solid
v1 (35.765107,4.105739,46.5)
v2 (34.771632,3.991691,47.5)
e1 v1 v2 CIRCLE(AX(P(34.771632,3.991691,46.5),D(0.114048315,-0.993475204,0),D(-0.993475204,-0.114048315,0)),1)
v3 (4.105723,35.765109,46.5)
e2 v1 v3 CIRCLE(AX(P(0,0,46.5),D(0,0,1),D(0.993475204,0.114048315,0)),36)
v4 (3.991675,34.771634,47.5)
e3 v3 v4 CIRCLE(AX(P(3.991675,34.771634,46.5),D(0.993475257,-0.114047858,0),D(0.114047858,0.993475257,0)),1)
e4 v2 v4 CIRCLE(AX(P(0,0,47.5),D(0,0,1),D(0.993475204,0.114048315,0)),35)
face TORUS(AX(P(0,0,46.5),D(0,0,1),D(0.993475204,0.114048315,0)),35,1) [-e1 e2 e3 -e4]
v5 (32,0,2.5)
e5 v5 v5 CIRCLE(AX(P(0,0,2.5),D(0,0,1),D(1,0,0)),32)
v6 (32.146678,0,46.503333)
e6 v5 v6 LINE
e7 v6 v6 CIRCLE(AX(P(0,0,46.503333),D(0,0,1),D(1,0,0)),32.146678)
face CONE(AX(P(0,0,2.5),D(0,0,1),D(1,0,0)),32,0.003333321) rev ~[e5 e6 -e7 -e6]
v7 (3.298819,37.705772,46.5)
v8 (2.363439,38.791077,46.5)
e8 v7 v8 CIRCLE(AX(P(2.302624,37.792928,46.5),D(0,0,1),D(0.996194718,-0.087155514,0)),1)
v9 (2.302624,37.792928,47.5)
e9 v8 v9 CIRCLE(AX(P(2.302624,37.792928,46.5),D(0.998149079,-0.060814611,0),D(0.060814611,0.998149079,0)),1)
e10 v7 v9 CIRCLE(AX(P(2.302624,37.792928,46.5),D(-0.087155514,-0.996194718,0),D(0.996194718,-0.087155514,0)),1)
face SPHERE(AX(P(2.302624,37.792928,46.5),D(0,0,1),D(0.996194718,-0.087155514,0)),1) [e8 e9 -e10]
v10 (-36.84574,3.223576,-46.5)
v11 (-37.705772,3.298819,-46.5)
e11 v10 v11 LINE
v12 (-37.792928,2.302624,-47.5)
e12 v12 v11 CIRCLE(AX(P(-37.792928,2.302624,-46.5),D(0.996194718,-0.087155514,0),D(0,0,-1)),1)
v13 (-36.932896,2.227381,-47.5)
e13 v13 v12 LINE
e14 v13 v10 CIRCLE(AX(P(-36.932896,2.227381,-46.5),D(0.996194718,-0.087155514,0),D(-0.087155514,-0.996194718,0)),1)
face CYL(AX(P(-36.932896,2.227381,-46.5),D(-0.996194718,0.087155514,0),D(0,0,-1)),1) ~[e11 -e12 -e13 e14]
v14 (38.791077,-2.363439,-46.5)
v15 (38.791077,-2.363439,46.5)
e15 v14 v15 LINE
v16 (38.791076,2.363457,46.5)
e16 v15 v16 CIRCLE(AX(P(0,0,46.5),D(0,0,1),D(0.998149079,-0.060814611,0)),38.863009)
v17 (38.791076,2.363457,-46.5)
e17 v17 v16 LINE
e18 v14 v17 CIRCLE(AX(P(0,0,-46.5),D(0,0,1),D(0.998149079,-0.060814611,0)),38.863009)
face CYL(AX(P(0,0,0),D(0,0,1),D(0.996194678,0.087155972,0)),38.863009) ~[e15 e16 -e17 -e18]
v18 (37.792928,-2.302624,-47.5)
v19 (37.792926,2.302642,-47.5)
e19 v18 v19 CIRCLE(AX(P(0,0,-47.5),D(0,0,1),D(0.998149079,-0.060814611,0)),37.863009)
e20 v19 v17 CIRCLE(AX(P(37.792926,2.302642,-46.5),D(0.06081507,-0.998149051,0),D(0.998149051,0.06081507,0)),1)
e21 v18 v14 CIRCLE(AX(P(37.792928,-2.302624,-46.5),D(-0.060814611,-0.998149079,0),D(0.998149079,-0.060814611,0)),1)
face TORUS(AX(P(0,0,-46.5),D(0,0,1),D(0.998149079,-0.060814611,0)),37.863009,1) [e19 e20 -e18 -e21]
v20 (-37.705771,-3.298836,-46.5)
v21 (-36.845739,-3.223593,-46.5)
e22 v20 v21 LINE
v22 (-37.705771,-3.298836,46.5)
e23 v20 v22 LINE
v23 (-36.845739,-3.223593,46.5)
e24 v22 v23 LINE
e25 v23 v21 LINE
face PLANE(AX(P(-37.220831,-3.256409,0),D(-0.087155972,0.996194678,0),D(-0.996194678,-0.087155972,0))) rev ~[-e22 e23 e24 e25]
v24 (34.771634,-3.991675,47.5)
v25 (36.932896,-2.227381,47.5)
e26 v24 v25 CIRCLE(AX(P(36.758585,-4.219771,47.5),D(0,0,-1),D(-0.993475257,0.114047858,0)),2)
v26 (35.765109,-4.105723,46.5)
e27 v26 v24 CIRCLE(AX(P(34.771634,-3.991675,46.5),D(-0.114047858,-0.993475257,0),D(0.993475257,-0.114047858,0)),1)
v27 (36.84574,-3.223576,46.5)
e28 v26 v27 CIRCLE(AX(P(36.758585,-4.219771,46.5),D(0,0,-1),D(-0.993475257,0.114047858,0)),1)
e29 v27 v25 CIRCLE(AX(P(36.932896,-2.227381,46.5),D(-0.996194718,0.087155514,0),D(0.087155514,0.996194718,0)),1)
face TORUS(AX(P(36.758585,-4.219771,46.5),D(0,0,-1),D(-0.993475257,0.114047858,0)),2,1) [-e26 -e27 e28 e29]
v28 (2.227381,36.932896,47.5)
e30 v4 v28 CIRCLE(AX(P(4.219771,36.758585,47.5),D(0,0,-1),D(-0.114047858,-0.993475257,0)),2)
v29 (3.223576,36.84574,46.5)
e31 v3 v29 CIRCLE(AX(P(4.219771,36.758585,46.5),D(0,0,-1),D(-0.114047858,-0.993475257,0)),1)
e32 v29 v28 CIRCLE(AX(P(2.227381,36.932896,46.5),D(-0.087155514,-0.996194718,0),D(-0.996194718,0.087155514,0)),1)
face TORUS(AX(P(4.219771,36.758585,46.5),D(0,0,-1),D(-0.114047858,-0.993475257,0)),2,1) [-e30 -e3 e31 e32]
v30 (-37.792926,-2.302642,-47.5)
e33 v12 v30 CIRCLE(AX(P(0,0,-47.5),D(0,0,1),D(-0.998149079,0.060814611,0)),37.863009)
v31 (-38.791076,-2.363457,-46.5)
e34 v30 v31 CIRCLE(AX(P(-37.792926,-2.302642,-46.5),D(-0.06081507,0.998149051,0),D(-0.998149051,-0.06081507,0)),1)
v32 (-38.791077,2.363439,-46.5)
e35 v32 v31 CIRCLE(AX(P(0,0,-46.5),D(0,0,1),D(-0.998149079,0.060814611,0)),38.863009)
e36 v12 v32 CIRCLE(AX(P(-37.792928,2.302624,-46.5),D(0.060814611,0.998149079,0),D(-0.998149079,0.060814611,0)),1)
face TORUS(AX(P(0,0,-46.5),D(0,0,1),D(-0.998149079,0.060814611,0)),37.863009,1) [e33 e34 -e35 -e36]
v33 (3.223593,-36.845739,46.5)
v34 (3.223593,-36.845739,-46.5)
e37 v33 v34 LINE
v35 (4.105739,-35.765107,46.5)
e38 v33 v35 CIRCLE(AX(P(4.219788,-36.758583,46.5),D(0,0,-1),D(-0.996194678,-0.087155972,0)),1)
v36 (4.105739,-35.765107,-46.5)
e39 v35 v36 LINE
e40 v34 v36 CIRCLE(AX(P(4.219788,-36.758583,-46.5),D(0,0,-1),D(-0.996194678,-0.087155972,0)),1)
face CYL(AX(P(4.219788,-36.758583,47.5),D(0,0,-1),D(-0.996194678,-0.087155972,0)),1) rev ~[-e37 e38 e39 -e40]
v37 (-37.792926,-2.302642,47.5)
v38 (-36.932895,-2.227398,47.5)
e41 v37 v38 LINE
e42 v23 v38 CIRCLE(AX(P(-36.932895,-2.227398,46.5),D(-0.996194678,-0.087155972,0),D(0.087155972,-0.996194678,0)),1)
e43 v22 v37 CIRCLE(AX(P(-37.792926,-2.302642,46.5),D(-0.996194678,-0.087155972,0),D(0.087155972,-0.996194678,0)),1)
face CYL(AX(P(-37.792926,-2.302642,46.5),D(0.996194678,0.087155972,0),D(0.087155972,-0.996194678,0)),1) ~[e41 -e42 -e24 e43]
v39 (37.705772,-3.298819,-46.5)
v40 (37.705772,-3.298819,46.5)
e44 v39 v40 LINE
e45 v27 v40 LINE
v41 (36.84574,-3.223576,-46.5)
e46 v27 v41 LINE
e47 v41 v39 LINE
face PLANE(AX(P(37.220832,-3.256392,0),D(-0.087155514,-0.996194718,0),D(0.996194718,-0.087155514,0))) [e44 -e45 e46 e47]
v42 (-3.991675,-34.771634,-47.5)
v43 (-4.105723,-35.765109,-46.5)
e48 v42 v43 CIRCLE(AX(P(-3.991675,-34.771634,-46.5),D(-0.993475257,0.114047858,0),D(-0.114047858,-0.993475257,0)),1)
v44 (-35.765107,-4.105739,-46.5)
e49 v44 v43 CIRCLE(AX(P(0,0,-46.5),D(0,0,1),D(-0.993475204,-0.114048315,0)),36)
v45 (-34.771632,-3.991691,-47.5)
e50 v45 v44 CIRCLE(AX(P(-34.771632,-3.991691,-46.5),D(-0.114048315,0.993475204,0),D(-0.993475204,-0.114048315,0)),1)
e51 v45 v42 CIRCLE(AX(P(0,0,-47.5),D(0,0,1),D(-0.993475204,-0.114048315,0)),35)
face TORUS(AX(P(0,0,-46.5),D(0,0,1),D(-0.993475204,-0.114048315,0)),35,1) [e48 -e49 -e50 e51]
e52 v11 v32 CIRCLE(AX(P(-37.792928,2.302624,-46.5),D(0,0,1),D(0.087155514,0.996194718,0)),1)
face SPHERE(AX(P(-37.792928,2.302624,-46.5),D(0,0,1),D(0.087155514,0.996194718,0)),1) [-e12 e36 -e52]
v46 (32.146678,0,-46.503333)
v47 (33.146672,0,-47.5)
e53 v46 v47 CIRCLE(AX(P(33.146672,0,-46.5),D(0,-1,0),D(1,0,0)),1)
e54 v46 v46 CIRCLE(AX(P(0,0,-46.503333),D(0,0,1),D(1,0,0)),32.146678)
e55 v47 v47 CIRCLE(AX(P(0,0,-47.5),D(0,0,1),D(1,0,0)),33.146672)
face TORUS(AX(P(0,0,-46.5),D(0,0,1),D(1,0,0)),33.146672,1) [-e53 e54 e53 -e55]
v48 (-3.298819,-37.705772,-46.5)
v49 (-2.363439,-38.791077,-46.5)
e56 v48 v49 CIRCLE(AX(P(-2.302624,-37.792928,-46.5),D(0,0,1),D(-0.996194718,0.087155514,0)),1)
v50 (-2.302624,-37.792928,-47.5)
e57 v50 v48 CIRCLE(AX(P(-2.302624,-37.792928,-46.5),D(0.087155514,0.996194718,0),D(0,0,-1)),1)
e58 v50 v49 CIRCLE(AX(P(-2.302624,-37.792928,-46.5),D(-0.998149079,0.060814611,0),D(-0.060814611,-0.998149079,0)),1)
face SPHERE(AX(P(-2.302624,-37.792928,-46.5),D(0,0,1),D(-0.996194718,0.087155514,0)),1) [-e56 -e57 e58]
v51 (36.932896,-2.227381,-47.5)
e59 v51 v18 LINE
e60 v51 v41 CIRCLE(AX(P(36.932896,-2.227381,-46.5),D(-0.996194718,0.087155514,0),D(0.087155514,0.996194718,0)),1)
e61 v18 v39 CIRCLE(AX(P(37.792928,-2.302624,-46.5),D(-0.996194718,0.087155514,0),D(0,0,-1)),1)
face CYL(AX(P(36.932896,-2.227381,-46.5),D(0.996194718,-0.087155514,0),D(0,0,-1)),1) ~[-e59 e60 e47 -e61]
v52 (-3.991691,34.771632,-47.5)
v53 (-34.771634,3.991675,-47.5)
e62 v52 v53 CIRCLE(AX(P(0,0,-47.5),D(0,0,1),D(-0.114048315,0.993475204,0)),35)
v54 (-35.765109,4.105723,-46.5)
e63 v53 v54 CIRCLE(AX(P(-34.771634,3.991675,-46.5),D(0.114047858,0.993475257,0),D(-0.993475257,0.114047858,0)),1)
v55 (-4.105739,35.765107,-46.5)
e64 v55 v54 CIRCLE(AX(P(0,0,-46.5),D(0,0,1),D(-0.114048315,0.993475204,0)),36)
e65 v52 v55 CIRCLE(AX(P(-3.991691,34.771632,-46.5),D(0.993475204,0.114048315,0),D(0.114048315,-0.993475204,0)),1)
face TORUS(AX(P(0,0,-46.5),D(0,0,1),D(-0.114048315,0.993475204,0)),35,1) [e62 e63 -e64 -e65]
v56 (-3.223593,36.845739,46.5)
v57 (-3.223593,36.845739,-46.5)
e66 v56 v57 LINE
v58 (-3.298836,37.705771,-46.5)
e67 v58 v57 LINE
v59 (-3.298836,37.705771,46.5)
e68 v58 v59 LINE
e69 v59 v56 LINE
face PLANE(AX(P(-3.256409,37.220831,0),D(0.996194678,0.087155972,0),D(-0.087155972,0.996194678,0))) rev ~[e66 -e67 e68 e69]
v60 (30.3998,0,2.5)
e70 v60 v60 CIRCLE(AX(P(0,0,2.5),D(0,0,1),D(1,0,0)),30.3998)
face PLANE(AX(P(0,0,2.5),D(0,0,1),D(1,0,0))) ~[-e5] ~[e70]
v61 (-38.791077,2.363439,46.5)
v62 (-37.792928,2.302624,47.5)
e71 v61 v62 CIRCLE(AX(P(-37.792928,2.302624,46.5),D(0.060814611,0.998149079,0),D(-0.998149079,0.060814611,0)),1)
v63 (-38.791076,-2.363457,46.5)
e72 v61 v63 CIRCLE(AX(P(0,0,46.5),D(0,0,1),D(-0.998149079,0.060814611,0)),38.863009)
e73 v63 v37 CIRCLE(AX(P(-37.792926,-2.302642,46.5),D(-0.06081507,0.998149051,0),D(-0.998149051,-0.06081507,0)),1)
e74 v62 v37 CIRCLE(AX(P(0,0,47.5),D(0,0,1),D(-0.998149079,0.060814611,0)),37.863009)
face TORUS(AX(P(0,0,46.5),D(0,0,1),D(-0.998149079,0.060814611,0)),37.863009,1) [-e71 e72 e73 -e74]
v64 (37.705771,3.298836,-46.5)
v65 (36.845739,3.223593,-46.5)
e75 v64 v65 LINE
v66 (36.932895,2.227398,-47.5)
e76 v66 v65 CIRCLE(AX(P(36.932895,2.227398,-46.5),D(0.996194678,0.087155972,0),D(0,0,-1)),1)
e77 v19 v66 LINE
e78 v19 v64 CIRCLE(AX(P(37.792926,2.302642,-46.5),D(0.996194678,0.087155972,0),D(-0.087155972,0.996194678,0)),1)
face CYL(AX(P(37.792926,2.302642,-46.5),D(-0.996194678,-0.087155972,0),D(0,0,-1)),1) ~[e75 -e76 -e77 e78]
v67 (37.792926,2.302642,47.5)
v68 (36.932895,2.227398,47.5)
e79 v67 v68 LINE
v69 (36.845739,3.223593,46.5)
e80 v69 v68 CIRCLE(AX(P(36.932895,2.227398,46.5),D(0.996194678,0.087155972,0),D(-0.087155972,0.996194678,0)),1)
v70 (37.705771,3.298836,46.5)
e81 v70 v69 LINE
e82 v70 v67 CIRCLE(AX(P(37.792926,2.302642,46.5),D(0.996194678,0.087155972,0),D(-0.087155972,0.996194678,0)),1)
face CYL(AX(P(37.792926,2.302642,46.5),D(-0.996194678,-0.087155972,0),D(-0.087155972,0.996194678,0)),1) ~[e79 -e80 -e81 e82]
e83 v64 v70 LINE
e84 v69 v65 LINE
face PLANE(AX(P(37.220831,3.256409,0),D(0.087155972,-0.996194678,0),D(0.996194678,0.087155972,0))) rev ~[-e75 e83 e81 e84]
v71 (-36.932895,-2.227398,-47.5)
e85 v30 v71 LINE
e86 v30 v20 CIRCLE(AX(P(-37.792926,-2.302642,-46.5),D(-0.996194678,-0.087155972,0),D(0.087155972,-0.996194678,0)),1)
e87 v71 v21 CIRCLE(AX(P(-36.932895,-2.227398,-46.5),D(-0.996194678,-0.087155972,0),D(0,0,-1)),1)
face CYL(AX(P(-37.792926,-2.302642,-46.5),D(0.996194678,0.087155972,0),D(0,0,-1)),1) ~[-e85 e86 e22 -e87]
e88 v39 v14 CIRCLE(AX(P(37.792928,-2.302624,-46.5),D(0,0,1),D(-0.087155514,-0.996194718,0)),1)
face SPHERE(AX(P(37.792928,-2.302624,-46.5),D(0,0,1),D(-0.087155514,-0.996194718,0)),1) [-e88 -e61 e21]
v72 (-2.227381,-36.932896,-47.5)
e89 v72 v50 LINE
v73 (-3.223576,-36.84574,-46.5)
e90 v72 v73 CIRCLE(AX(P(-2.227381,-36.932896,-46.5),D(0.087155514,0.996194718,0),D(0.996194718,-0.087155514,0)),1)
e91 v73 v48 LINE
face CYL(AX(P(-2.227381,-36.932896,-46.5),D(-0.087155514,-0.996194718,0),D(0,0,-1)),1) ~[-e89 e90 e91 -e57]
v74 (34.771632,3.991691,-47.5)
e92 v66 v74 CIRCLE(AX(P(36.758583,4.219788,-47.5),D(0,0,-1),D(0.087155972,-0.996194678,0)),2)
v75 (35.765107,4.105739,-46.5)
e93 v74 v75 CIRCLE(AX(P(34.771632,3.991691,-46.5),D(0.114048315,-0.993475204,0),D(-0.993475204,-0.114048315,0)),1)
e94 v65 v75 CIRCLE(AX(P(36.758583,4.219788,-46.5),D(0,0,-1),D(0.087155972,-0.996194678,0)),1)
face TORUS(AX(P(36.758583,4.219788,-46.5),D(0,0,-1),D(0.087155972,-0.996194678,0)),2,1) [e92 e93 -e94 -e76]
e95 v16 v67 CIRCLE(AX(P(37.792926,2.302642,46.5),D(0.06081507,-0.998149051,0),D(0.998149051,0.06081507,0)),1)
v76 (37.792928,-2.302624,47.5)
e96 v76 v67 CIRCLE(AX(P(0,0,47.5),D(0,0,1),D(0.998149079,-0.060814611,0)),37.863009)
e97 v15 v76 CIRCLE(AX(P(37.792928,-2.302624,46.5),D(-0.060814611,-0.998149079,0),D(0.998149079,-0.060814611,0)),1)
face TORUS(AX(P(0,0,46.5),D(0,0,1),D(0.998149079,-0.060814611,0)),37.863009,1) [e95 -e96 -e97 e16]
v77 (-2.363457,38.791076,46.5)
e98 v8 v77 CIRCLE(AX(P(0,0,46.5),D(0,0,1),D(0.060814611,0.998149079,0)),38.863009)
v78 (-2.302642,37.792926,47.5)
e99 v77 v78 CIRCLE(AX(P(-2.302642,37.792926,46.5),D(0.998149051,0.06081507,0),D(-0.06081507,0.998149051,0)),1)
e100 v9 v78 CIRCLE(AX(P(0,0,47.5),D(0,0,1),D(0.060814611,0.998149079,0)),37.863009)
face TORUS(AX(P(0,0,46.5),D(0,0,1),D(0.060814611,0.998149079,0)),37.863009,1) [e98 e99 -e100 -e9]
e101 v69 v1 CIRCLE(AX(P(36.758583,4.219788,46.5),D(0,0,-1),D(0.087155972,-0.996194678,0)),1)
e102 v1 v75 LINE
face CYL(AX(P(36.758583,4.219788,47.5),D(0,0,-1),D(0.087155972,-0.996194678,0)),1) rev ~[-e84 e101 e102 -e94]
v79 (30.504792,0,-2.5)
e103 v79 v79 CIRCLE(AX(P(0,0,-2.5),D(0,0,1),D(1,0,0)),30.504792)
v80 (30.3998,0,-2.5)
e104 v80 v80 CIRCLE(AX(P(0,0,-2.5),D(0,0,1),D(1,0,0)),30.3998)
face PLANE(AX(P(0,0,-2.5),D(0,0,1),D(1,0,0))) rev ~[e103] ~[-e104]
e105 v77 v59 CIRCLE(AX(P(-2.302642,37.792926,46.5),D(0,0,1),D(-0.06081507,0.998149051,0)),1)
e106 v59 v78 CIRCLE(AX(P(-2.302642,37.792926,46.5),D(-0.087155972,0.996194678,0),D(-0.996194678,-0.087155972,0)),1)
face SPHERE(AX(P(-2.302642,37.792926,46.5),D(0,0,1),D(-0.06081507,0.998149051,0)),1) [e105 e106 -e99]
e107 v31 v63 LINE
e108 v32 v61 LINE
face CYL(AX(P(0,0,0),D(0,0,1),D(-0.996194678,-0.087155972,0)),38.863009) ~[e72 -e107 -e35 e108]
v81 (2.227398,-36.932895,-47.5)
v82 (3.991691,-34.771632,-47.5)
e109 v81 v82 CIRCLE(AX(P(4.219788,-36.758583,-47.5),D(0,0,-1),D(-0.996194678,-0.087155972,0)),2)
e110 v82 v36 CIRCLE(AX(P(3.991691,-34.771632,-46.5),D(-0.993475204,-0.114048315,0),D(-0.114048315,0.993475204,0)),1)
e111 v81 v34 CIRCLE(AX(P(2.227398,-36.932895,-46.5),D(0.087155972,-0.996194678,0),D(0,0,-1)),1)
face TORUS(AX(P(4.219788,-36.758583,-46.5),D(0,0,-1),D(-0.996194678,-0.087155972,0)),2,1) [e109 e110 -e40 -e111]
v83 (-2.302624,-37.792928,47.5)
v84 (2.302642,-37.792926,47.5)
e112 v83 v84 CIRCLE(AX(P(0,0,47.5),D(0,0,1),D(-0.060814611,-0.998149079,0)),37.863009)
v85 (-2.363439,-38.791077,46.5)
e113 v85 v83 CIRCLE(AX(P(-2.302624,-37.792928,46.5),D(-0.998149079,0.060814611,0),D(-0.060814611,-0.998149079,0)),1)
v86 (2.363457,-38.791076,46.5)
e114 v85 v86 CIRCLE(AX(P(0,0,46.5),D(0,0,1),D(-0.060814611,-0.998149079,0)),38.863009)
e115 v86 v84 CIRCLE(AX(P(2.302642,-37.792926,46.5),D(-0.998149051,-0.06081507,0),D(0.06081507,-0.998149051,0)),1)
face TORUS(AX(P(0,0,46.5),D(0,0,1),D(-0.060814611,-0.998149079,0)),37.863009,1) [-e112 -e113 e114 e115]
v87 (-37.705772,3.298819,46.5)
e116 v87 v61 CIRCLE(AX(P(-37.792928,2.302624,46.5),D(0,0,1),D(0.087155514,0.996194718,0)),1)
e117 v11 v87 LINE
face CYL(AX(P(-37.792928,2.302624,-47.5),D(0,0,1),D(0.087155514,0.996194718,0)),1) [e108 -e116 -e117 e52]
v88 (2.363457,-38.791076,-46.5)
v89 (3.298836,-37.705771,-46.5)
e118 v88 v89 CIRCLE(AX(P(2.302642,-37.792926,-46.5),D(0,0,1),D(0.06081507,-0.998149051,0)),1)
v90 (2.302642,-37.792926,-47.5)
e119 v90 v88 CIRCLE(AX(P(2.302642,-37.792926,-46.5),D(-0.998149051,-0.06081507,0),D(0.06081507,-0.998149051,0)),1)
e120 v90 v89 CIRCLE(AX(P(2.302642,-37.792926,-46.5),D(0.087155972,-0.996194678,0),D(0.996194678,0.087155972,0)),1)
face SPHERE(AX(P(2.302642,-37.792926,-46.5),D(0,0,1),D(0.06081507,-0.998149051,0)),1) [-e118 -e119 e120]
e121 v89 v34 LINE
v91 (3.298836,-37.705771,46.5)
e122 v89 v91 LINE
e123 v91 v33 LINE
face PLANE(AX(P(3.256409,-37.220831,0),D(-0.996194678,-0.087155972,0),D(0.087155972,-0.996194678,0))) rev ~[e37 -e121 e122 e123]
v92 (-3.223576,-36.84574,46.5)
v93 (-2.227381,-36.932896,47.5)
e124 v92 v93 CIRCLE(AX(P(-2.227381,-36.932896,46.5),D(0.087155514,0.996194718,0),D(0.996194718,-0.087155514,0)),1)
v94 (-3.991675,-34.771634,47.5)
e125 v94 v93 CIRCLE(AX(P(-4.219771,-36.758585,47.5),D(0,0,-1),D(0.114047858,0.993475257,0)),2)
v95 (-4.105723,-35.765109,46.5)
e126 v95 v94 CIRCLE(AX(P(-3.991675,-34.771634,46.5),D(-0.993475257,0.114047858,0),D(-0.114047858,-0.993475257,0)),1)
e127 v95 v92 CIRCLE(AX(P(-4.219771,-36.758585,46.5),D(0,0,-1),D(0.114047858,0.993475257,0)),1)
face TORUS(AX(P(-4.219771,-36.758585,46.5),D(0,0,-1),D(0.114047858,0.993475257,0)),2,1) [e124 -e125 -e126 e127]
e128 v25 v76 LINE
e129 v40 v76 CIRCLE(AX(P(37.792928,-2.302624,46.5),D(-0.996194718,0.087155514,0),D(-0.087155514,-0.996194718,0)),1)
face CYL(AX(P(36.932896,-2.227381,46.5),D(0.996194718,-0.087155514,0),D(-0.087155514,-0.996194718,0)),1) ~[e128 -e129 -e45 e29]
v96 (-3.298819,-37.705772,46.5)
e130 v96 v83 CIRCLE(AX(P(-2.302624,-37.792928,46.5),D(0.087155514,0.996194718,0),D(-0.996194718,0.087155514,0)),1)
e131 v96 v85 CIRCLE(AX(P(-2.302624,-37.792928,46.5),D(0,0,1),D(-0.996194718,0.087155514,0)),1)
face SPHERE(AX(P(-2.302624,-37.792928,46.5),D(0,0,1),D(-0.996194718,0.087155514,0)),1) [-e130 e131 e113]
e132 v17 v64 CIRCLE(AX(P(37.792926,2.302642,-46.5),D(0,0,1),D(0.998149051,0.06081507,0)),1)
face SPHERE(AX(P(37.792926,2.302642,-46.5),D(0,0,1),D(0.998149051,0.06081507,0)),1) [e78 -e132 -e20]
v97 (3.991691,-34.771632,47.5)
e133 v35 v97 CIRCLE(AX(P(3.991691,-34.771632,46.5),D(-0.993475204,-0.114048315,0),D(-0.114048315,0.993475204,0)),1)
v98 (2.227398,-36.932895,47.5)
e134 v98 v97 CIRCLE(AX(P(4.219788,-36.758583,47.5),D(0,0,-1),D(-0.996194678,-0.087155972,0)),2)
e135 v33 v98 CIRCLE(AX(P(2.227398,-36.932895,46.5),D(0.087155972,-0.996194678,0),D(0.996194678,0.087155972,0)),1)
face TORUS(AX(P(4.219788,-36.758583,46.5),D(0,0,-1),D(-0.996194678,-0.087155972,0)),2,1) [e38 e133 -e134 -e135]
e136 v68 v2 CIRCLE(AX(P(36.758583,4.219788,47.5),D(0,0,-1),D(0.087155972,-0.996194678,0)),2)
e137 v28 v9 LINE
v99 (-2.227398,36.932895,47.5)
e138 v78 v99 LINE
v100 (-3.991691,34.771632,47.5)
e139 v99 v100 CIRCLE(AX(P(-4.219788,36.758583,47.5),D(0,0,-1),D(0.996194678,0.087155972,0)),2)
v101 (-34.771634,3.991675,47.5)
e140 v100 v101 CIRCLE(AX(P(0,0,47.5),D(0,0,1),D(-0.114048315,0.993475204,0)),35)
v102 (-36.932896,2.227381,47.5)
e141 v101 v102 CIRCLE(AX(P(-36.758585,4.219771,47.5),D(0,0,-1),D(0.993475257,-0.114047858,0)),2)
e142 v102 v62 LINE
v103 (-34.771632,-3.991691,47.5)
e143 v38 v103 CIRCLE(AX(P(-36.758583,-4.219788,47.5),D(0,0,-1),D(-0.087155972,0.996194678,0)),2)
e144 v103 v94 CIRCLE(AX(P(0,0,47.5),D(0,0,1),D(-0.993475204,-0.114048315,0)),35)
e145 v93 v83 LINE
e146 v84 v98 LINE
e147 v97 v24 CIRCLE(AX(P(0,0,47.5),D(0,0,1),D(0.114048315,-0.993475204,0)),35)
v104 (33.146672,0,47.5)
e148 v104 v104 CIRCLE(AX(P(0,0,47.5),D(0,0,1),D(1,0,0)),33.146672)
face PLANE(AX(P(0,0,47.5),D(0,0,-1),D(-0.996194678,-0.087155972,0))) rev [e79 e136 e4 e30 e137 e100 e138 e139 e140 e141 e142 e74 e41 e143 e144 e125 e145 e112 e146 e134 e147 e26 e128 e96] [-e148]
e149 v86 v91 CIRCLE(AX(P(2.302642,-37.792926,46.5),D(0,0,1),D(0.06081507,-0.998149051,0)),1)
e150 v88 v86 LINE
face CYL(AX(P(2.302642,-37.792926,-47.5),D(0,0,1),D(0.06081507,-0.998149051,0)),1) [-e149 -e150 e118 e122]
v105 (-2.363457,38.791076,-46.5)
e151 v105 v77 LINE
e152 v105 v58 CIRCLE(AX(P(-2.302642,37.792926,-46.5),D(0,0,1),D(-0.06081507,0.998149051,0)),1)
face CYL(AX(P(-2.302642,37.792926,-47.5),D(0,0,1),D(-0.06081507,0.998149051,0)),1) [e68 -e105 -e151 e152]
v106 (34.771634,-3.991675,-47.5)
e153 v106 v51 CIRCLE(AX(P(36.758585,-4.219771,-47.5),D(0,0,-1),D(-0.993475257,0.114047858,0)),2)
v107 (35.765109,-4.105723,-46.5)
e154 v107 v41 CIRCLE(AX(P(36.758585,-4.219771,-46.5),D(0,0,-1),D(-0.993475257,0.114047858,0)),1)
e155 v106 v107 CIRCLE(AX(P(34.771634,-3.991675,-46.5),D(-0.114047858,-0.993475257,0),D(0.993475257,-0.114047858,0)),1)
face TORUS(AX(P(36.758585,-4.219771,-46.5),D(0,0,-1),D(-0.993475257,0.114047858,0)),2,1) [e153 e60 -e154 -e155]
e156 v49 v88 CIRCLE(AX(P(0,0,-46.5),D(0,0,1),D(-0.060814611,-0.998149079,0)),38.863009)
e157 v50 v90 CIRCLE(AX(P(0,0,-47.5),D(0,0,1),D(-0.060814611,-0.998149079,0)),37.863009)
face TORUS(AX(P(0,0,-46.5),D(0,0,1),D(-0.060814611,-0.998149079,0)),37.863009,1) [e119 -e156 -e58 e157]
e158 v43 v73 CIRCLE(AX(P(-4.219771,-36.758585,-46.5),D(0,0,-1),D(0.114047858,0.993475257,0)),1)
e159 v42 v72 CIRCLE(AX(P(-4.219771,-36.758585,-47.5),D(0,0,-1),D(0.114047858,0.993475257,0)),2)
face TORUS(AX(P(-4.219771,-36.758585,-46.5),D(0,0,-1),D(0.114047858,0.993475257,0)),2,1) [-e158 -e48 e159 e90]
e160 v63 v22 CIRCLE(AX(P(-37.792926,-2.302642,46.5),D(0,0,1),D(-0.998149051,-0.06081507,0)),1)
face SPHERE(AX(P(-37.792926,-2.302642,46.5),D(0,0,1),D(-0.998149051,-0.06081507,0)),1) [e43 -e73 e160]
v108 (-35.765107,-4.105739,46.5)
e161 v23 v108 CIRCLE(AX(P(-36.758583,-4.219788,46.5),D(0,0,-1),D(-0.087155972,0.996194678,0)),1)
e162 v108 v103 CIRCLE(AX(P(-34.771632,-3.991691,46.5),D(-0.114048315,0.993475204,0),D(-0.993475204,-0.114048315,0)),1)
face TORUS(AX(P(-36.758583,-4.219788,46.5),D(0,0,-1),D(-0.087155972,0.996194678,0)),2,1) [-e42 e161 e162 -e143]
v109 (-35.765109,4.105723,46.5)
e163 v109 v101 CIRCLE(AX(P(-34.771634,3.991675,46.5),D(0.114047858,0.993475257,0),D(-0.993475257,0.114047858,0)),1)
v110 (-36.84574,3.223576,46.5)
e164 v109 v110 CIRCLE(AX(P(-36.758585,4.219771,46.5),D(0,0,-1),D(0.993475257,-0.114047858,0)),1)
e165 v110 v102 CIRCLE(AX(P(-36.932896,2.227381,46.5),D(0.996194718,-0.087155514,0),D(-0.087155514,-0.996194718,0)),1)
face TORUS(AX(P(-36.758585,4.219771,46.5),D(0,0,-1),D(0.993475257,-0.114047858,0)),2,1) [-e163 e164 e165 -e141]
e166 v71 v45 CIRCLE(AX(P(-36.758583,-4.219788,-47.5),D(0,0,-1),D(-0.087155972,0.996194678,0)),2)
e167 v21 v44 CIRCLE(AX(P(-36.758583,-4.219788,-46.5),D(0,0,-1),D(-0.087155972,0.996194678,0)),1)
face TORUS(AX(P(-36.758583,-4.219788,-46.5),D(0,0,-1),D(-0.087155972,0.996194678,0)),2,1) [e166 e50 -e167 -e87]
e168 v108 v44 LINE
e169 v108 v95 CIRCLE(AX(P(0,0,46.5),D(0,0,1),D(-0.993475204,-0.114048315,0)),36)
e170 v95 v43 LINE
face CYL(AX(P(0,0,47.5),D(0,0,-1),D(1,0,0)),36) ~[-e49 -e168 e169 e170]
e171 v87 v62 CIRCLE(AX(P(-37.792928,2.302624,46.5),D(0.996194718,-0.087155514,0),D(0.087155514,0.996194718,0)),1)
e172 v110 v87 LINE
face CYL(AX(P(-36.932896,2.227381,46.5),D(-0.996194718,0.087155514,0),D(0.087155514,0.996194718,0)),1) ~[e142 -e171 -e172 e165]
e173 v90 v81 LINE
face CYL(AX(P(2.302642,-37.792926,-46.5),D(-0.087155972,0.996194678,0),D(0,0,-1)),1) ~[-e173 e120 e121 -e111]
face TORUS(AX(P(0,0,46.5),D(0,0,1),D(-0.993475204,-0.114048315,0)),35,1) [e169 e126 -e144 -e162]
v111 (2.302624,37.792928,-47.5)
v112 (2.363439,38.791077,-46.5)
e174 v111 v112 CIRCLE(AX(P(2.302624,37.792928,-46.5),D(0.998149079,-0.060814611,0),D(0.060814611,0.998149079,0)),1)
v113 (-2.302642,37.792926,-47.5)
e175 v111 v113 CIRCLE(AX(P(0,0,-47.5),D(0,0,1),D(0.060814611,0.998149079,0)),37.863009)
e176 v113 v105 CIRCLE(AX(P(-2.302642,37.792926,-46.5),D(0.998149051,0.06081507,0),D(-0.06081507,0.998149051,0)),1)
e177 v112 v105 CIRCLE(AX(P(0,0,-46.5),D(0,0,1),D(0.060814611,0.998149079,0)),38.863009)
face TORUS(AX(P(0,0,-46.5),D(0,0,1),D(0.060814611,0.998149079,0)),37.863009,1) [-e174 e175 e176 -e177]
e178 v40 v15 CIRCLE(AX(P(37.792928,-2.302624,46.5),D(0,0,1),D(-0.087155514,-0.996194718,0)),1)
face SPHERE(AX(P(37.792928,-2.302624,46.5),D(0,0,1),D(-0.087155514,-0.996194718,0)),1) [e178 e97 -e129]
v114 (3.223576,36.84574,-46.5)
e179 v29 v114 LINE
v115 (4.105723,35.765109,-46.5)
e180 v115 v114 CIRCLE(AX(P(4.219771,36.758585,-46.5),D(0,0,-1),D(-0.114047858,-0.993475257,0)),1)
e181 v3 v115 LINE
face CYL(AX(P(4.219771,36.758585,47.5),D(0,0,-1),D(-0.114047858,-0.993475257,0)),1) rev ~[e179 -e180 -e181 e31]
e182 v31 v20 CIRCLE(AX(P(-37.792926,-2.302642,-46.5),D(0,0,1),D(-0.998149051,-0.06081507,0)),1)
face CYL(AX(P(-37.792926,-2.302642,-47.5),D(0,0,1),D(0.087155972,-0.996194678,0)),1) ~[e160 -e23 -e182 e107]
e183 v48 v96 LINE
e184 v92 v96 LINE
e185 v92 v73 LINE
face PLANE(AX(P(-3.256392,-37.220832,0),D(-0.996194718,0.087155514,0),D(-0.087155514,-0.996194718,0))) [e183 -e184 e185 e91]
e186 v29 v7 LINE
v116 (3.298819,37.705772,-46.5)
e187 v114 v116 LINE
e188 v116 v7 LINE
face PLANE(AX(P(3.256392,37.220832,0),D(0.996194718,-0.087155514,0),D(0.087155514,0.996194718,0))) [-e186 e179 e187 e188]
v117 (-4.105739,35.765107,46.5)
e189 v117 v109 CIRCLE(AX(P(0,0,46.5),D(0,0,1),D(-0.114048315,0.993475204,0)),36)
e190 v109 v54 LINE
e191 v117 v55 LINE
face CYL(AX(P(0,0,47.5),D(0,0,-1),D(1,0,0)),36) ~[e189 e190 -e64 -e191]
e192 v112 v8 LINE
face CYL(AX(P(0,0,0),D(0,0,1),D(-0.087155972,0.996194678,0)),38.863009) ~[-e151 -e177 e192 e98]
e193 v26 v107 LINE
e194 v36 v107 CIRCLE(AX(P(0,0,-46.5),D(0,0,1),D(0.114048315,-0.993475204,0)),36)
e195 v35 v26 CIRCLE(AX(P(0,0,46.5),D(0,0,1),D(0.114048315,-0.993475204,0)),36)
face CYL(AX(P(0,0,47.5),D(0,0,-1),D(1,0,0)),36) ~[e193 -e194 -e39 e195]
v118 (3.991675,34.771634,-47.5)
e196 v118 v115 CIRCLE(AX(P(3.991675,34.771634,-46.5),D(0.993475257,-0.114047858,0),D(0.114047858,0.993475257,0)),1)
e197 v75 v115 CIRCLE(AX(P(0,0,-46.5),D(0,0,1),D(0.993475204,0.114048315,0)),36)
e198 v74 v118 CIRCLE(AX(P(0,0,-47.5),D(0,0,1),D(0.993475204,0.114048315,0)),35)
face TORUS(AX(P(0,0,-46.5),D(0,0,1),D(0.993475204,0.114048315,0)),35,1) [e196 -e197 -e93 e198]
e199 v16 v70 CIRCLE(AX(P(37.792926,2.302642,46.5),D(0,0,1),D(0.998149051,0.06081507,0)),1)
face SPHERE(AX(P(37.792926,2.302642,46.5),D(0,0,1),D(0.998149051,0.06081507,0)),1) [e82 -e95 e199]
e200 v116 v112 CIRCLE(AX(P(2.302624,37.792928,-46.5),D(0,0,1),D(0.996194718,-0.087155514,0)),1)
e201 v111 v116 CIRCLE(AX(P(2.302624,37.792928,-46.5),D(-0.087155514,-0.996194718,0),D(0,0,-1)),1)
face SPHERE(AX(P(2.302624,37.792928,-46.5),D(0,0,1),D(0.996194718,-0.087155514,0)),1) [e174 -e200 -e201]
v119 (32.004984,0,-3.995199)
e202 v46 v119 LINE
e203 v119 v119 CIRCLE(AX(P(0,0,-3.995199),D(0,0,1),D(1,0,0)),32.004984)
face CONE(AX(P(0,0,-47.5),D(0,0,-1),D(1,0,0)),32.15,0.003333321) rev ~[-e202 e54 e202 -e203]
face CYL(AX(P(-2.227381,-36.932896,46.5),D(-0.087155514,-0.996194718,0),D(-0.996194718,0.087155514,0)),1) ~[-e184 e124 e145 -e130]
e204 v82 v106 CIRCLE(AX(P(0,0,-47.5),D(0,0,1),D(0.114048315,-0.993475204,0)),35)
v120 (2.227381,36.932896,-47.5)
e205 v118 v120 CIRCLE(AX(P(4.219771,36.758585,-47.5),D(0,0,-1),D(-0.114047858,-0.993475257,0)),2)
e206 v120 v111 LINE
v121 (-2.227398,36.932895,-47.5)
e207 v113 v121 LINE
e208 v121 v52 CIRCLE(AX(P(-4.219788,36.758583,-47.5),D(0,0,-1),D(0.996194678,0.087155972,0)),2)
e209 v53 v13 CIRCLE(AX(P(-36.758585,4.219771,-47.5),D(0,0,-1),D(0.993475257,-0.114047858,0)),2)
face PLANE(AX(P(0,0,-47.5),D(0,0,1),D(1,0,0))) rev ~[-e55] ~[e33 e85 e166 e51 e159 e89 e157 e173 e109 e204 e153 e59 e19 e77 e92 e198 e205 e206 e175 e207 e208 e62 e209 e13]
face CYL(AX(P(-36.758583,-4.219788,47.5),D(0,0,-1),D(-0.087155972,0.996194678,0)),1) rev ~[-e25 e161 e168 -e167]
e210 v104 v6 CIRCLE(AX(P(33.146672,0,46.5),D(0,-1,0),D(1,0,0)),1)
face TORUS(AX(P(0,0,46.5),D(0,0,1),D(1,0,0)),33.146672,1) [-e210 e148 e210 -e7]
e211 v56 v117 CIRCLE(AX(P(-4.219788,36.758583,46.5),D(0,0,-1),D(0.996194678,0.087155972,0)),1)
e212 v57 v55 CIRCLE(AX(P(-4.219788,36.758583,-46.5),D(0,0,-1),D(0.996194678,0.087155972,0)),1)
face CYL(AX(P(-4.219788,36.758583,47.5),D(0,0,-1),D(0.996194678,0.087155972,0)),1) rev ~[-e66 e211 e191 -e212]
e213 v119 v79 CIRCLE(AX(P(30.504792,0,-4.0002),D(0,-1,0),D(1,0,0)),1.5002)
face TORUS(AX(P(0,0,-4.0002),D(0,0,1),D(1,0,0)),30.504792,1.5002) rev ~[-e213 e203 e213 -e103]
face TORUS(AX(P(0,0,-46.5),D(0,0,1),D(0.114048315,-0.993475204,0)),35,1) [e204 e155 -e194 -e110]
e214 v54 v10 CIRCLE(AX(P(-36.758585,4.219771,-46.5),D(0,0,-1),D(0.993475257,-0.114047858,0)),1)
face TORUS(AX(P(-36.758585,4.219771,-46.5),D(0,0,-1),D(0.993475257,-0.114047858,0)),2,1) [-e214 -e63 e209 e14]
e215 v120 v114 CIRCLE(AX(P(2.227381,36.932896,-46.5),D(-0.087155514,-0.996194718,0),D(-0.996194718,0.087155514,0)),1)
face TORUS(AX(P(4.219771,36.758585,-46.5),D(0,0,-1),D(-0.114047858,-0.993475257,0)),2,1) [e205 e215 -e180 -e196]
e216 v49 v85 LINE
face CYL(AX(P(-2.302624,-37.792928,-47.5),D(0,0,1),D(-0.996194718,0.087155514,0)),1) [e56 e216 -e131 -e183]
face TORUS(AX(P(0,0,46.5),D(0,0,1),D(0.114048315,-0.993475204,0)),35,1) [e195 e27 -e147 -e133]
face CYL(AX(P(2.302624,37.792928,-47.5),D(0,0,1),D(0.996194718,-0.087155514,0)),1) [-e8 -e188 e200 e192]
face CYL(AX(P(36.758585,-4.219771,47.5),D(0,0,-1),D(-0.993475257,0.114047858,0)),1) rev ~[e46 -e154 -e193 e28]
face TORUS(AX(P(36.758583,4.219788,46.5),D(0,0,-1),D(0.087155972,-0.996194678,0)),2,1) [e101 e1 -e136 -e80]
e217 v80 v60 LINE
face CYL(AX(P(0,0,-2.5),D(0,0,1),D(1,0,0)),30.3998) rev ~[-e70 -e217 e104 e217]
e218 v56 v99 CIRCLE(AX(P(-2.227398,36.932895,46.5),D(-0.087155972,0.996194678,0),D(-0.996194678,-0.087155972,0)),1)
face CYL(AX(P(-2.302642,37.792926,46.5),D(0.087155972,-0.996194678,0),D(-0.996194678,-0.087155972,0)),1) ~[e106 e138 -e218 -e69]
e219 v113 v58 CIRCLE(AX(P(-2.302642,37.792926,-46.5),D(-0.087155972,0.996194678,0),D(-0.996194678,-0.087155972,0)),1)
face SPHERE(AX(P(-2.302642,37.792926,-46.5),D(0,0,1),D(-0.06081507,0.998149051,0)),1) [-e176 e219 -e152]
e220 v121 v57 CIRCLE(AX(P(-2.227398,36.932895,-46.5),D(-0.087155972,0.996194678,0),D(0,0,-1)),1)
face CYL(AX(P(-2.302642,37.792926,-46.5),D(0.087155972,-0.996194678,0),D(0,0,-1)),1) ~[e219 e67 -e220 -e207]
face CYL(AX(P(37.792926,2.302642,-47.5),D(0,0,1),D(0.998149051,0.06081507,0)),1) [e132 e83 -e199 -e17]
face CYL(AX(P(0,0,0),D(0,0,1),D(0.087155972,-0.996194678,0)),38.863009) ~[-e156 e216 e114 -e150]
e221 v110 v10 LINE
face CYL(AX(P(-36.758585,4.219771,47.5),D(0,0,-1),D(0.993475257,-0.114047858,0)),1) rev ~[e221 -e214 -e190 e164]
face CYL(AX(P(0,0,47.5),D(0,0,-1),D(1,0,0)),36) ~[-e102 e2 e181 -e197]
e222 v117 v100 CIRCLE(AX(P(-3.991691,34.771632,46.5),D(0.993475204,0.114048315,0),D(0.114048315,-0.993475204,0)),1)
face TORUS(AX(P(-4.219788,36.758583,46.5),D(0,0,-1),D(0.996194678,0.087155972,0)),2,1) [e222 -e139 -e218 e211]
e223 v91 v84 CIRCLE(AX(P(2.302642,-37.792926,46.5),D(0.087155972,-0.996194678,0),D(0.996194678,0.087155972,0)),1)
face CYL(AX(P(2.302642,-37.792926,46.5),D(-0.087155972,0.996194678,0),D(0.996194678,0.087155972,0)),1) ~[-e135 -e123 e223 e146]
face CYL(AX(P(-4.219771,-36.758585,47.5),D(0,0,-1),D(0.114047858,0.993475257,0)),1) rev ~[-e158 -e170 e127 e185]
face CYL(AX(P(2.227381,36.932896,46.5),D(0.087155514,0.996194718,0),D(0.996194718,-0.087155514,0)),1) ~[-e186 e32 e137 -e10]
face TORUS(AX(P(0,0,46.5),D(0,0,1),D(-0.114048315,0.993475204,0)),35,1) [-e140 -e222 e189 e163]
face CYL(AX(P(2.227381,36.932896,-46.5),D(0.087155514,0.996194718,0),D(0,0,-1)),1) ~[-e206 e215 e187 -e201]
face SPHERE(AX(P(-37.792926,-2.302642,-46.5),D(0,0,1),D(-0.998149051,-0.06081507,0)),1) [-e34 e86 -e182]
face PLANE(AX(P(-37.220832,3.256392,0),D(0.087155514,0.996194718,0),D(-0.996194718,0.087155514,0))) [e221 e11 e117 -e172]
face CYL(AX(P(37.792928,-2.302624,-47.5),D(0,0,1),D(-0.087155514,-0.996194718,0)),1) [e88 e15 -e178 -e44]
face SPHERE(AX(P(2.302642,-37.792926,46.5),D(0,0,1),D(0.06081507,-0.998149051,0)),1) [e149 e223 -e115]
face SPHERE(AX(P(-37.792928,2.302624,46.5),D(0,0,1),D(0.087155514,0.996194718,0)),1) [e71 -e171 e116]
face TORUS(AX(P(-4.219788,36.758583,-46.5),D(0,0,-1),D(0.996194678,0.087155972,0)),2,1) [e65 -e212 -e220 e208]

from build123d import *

# Parameters (mm, degrees)
SKETCH004_W         = 3
SKETCH004_H         = 95
REVOLUTION004_ANGLE = -10
POLARPATTERN_COUNT  = 4
FILLET_R            = 1.5002
FILLET014_R         = 1
FILLET015_R         = 1
FILLET016_R         = 1


with BuildPart() as part:
    # Sketch → Revolution (revolve)
    with BuildSketch(Plane.XZ):
        Polygon((36, 47.5), (36, -47.5), (32.15, -47.5), (32, -2.5), (30.3998, -2.5), (30.3998, 2.5), (32, 2.5), (32.15, 47.5), align=None)
    revolve(axis=Axis((0, 0, 0), (0, 0, 1)))

    # Sketch004 → Revolution004 (revolve)
    with BuildSketch(Plane(origin=(0, 0, 0), x_dir=(0.996195, 0.087156, 0), z_dir=(0.087156, -0.996195, 0))):
        with Locations((37.363009, 0)):
            Rectangle(SKETCH004_W, SKETCH004_H)
    revolution004 = revolve(axis=Axis((0, 0, 0), (0, 0, 1)), revolution_arc=REVOLUTION004_ANGLE)

    # PolarPattern: Revolution004 ×4 about axis
    polarpattern_axis = Axis((0, 0, 0), (0, 0, 1))
    for i in range(1, POLARPATTERN_COUNT):
        add(revolution004.rotate(polarpattern_axis, i * 360 / POLARPATTERN_COUNT))

    # Fillet
    fillet_edges = [part.edges().sort_by_distance(p)[0] for p in [
        (-32, 0, -2.5),
    ]]
    fillet(fillet_edges, radius=FILLET_R)

    # Fillet014
    fillet014_edges = [part.edges().sort_by_distance(p)[0] for p in [
        (-32.15, 0, -47.5),
        (-32.15, 0, 47.5),
    ]]
    fillet(fillet014_edges, radius=FILLET014_R)

    # Fillet015
    fillet015_edges = [part.edges().sort_by_distance(p)[0] for p in [
        (-3.137607, -35.863009, 0),
        (-3.387134, -38.715124, 0),
        (3.387134, -38.715124, 0),
        (3.137607, -35.863009, 0),
        (35.863009, -3.137607, 0),
        (38.715124, -3.387134, 0),
        (38.715124, 3.387134, 0),
        (35.863009, 3.137607, 0),
        (3.137607, 35.863009, 0),
        (3.387134, 38.715124, 0),
        (-3.387134, 38.715124, 0),
        (-3.137607, 35.863009, 0),
        (-35.863009, 3.137607, 0),
        (-38.715124, 3.387134, 0),
        (-38.715124, -3.387134, 0),
        (-35.863009, -3.137607, 0),
    ]]
    fillet(fillet015_edges, radius=FILLET015_R)

    # Fillet016
    fillet016_edges = [part.edges().sort_by_distance(p)[0] for p in [
        (-25.455844, -25.455844, 47.5),
        (-25.455844, -25.455844, -47.5),
    ]]
    fillet(fillet016_edges, radius=FILLET016_R)


solid = part.part
